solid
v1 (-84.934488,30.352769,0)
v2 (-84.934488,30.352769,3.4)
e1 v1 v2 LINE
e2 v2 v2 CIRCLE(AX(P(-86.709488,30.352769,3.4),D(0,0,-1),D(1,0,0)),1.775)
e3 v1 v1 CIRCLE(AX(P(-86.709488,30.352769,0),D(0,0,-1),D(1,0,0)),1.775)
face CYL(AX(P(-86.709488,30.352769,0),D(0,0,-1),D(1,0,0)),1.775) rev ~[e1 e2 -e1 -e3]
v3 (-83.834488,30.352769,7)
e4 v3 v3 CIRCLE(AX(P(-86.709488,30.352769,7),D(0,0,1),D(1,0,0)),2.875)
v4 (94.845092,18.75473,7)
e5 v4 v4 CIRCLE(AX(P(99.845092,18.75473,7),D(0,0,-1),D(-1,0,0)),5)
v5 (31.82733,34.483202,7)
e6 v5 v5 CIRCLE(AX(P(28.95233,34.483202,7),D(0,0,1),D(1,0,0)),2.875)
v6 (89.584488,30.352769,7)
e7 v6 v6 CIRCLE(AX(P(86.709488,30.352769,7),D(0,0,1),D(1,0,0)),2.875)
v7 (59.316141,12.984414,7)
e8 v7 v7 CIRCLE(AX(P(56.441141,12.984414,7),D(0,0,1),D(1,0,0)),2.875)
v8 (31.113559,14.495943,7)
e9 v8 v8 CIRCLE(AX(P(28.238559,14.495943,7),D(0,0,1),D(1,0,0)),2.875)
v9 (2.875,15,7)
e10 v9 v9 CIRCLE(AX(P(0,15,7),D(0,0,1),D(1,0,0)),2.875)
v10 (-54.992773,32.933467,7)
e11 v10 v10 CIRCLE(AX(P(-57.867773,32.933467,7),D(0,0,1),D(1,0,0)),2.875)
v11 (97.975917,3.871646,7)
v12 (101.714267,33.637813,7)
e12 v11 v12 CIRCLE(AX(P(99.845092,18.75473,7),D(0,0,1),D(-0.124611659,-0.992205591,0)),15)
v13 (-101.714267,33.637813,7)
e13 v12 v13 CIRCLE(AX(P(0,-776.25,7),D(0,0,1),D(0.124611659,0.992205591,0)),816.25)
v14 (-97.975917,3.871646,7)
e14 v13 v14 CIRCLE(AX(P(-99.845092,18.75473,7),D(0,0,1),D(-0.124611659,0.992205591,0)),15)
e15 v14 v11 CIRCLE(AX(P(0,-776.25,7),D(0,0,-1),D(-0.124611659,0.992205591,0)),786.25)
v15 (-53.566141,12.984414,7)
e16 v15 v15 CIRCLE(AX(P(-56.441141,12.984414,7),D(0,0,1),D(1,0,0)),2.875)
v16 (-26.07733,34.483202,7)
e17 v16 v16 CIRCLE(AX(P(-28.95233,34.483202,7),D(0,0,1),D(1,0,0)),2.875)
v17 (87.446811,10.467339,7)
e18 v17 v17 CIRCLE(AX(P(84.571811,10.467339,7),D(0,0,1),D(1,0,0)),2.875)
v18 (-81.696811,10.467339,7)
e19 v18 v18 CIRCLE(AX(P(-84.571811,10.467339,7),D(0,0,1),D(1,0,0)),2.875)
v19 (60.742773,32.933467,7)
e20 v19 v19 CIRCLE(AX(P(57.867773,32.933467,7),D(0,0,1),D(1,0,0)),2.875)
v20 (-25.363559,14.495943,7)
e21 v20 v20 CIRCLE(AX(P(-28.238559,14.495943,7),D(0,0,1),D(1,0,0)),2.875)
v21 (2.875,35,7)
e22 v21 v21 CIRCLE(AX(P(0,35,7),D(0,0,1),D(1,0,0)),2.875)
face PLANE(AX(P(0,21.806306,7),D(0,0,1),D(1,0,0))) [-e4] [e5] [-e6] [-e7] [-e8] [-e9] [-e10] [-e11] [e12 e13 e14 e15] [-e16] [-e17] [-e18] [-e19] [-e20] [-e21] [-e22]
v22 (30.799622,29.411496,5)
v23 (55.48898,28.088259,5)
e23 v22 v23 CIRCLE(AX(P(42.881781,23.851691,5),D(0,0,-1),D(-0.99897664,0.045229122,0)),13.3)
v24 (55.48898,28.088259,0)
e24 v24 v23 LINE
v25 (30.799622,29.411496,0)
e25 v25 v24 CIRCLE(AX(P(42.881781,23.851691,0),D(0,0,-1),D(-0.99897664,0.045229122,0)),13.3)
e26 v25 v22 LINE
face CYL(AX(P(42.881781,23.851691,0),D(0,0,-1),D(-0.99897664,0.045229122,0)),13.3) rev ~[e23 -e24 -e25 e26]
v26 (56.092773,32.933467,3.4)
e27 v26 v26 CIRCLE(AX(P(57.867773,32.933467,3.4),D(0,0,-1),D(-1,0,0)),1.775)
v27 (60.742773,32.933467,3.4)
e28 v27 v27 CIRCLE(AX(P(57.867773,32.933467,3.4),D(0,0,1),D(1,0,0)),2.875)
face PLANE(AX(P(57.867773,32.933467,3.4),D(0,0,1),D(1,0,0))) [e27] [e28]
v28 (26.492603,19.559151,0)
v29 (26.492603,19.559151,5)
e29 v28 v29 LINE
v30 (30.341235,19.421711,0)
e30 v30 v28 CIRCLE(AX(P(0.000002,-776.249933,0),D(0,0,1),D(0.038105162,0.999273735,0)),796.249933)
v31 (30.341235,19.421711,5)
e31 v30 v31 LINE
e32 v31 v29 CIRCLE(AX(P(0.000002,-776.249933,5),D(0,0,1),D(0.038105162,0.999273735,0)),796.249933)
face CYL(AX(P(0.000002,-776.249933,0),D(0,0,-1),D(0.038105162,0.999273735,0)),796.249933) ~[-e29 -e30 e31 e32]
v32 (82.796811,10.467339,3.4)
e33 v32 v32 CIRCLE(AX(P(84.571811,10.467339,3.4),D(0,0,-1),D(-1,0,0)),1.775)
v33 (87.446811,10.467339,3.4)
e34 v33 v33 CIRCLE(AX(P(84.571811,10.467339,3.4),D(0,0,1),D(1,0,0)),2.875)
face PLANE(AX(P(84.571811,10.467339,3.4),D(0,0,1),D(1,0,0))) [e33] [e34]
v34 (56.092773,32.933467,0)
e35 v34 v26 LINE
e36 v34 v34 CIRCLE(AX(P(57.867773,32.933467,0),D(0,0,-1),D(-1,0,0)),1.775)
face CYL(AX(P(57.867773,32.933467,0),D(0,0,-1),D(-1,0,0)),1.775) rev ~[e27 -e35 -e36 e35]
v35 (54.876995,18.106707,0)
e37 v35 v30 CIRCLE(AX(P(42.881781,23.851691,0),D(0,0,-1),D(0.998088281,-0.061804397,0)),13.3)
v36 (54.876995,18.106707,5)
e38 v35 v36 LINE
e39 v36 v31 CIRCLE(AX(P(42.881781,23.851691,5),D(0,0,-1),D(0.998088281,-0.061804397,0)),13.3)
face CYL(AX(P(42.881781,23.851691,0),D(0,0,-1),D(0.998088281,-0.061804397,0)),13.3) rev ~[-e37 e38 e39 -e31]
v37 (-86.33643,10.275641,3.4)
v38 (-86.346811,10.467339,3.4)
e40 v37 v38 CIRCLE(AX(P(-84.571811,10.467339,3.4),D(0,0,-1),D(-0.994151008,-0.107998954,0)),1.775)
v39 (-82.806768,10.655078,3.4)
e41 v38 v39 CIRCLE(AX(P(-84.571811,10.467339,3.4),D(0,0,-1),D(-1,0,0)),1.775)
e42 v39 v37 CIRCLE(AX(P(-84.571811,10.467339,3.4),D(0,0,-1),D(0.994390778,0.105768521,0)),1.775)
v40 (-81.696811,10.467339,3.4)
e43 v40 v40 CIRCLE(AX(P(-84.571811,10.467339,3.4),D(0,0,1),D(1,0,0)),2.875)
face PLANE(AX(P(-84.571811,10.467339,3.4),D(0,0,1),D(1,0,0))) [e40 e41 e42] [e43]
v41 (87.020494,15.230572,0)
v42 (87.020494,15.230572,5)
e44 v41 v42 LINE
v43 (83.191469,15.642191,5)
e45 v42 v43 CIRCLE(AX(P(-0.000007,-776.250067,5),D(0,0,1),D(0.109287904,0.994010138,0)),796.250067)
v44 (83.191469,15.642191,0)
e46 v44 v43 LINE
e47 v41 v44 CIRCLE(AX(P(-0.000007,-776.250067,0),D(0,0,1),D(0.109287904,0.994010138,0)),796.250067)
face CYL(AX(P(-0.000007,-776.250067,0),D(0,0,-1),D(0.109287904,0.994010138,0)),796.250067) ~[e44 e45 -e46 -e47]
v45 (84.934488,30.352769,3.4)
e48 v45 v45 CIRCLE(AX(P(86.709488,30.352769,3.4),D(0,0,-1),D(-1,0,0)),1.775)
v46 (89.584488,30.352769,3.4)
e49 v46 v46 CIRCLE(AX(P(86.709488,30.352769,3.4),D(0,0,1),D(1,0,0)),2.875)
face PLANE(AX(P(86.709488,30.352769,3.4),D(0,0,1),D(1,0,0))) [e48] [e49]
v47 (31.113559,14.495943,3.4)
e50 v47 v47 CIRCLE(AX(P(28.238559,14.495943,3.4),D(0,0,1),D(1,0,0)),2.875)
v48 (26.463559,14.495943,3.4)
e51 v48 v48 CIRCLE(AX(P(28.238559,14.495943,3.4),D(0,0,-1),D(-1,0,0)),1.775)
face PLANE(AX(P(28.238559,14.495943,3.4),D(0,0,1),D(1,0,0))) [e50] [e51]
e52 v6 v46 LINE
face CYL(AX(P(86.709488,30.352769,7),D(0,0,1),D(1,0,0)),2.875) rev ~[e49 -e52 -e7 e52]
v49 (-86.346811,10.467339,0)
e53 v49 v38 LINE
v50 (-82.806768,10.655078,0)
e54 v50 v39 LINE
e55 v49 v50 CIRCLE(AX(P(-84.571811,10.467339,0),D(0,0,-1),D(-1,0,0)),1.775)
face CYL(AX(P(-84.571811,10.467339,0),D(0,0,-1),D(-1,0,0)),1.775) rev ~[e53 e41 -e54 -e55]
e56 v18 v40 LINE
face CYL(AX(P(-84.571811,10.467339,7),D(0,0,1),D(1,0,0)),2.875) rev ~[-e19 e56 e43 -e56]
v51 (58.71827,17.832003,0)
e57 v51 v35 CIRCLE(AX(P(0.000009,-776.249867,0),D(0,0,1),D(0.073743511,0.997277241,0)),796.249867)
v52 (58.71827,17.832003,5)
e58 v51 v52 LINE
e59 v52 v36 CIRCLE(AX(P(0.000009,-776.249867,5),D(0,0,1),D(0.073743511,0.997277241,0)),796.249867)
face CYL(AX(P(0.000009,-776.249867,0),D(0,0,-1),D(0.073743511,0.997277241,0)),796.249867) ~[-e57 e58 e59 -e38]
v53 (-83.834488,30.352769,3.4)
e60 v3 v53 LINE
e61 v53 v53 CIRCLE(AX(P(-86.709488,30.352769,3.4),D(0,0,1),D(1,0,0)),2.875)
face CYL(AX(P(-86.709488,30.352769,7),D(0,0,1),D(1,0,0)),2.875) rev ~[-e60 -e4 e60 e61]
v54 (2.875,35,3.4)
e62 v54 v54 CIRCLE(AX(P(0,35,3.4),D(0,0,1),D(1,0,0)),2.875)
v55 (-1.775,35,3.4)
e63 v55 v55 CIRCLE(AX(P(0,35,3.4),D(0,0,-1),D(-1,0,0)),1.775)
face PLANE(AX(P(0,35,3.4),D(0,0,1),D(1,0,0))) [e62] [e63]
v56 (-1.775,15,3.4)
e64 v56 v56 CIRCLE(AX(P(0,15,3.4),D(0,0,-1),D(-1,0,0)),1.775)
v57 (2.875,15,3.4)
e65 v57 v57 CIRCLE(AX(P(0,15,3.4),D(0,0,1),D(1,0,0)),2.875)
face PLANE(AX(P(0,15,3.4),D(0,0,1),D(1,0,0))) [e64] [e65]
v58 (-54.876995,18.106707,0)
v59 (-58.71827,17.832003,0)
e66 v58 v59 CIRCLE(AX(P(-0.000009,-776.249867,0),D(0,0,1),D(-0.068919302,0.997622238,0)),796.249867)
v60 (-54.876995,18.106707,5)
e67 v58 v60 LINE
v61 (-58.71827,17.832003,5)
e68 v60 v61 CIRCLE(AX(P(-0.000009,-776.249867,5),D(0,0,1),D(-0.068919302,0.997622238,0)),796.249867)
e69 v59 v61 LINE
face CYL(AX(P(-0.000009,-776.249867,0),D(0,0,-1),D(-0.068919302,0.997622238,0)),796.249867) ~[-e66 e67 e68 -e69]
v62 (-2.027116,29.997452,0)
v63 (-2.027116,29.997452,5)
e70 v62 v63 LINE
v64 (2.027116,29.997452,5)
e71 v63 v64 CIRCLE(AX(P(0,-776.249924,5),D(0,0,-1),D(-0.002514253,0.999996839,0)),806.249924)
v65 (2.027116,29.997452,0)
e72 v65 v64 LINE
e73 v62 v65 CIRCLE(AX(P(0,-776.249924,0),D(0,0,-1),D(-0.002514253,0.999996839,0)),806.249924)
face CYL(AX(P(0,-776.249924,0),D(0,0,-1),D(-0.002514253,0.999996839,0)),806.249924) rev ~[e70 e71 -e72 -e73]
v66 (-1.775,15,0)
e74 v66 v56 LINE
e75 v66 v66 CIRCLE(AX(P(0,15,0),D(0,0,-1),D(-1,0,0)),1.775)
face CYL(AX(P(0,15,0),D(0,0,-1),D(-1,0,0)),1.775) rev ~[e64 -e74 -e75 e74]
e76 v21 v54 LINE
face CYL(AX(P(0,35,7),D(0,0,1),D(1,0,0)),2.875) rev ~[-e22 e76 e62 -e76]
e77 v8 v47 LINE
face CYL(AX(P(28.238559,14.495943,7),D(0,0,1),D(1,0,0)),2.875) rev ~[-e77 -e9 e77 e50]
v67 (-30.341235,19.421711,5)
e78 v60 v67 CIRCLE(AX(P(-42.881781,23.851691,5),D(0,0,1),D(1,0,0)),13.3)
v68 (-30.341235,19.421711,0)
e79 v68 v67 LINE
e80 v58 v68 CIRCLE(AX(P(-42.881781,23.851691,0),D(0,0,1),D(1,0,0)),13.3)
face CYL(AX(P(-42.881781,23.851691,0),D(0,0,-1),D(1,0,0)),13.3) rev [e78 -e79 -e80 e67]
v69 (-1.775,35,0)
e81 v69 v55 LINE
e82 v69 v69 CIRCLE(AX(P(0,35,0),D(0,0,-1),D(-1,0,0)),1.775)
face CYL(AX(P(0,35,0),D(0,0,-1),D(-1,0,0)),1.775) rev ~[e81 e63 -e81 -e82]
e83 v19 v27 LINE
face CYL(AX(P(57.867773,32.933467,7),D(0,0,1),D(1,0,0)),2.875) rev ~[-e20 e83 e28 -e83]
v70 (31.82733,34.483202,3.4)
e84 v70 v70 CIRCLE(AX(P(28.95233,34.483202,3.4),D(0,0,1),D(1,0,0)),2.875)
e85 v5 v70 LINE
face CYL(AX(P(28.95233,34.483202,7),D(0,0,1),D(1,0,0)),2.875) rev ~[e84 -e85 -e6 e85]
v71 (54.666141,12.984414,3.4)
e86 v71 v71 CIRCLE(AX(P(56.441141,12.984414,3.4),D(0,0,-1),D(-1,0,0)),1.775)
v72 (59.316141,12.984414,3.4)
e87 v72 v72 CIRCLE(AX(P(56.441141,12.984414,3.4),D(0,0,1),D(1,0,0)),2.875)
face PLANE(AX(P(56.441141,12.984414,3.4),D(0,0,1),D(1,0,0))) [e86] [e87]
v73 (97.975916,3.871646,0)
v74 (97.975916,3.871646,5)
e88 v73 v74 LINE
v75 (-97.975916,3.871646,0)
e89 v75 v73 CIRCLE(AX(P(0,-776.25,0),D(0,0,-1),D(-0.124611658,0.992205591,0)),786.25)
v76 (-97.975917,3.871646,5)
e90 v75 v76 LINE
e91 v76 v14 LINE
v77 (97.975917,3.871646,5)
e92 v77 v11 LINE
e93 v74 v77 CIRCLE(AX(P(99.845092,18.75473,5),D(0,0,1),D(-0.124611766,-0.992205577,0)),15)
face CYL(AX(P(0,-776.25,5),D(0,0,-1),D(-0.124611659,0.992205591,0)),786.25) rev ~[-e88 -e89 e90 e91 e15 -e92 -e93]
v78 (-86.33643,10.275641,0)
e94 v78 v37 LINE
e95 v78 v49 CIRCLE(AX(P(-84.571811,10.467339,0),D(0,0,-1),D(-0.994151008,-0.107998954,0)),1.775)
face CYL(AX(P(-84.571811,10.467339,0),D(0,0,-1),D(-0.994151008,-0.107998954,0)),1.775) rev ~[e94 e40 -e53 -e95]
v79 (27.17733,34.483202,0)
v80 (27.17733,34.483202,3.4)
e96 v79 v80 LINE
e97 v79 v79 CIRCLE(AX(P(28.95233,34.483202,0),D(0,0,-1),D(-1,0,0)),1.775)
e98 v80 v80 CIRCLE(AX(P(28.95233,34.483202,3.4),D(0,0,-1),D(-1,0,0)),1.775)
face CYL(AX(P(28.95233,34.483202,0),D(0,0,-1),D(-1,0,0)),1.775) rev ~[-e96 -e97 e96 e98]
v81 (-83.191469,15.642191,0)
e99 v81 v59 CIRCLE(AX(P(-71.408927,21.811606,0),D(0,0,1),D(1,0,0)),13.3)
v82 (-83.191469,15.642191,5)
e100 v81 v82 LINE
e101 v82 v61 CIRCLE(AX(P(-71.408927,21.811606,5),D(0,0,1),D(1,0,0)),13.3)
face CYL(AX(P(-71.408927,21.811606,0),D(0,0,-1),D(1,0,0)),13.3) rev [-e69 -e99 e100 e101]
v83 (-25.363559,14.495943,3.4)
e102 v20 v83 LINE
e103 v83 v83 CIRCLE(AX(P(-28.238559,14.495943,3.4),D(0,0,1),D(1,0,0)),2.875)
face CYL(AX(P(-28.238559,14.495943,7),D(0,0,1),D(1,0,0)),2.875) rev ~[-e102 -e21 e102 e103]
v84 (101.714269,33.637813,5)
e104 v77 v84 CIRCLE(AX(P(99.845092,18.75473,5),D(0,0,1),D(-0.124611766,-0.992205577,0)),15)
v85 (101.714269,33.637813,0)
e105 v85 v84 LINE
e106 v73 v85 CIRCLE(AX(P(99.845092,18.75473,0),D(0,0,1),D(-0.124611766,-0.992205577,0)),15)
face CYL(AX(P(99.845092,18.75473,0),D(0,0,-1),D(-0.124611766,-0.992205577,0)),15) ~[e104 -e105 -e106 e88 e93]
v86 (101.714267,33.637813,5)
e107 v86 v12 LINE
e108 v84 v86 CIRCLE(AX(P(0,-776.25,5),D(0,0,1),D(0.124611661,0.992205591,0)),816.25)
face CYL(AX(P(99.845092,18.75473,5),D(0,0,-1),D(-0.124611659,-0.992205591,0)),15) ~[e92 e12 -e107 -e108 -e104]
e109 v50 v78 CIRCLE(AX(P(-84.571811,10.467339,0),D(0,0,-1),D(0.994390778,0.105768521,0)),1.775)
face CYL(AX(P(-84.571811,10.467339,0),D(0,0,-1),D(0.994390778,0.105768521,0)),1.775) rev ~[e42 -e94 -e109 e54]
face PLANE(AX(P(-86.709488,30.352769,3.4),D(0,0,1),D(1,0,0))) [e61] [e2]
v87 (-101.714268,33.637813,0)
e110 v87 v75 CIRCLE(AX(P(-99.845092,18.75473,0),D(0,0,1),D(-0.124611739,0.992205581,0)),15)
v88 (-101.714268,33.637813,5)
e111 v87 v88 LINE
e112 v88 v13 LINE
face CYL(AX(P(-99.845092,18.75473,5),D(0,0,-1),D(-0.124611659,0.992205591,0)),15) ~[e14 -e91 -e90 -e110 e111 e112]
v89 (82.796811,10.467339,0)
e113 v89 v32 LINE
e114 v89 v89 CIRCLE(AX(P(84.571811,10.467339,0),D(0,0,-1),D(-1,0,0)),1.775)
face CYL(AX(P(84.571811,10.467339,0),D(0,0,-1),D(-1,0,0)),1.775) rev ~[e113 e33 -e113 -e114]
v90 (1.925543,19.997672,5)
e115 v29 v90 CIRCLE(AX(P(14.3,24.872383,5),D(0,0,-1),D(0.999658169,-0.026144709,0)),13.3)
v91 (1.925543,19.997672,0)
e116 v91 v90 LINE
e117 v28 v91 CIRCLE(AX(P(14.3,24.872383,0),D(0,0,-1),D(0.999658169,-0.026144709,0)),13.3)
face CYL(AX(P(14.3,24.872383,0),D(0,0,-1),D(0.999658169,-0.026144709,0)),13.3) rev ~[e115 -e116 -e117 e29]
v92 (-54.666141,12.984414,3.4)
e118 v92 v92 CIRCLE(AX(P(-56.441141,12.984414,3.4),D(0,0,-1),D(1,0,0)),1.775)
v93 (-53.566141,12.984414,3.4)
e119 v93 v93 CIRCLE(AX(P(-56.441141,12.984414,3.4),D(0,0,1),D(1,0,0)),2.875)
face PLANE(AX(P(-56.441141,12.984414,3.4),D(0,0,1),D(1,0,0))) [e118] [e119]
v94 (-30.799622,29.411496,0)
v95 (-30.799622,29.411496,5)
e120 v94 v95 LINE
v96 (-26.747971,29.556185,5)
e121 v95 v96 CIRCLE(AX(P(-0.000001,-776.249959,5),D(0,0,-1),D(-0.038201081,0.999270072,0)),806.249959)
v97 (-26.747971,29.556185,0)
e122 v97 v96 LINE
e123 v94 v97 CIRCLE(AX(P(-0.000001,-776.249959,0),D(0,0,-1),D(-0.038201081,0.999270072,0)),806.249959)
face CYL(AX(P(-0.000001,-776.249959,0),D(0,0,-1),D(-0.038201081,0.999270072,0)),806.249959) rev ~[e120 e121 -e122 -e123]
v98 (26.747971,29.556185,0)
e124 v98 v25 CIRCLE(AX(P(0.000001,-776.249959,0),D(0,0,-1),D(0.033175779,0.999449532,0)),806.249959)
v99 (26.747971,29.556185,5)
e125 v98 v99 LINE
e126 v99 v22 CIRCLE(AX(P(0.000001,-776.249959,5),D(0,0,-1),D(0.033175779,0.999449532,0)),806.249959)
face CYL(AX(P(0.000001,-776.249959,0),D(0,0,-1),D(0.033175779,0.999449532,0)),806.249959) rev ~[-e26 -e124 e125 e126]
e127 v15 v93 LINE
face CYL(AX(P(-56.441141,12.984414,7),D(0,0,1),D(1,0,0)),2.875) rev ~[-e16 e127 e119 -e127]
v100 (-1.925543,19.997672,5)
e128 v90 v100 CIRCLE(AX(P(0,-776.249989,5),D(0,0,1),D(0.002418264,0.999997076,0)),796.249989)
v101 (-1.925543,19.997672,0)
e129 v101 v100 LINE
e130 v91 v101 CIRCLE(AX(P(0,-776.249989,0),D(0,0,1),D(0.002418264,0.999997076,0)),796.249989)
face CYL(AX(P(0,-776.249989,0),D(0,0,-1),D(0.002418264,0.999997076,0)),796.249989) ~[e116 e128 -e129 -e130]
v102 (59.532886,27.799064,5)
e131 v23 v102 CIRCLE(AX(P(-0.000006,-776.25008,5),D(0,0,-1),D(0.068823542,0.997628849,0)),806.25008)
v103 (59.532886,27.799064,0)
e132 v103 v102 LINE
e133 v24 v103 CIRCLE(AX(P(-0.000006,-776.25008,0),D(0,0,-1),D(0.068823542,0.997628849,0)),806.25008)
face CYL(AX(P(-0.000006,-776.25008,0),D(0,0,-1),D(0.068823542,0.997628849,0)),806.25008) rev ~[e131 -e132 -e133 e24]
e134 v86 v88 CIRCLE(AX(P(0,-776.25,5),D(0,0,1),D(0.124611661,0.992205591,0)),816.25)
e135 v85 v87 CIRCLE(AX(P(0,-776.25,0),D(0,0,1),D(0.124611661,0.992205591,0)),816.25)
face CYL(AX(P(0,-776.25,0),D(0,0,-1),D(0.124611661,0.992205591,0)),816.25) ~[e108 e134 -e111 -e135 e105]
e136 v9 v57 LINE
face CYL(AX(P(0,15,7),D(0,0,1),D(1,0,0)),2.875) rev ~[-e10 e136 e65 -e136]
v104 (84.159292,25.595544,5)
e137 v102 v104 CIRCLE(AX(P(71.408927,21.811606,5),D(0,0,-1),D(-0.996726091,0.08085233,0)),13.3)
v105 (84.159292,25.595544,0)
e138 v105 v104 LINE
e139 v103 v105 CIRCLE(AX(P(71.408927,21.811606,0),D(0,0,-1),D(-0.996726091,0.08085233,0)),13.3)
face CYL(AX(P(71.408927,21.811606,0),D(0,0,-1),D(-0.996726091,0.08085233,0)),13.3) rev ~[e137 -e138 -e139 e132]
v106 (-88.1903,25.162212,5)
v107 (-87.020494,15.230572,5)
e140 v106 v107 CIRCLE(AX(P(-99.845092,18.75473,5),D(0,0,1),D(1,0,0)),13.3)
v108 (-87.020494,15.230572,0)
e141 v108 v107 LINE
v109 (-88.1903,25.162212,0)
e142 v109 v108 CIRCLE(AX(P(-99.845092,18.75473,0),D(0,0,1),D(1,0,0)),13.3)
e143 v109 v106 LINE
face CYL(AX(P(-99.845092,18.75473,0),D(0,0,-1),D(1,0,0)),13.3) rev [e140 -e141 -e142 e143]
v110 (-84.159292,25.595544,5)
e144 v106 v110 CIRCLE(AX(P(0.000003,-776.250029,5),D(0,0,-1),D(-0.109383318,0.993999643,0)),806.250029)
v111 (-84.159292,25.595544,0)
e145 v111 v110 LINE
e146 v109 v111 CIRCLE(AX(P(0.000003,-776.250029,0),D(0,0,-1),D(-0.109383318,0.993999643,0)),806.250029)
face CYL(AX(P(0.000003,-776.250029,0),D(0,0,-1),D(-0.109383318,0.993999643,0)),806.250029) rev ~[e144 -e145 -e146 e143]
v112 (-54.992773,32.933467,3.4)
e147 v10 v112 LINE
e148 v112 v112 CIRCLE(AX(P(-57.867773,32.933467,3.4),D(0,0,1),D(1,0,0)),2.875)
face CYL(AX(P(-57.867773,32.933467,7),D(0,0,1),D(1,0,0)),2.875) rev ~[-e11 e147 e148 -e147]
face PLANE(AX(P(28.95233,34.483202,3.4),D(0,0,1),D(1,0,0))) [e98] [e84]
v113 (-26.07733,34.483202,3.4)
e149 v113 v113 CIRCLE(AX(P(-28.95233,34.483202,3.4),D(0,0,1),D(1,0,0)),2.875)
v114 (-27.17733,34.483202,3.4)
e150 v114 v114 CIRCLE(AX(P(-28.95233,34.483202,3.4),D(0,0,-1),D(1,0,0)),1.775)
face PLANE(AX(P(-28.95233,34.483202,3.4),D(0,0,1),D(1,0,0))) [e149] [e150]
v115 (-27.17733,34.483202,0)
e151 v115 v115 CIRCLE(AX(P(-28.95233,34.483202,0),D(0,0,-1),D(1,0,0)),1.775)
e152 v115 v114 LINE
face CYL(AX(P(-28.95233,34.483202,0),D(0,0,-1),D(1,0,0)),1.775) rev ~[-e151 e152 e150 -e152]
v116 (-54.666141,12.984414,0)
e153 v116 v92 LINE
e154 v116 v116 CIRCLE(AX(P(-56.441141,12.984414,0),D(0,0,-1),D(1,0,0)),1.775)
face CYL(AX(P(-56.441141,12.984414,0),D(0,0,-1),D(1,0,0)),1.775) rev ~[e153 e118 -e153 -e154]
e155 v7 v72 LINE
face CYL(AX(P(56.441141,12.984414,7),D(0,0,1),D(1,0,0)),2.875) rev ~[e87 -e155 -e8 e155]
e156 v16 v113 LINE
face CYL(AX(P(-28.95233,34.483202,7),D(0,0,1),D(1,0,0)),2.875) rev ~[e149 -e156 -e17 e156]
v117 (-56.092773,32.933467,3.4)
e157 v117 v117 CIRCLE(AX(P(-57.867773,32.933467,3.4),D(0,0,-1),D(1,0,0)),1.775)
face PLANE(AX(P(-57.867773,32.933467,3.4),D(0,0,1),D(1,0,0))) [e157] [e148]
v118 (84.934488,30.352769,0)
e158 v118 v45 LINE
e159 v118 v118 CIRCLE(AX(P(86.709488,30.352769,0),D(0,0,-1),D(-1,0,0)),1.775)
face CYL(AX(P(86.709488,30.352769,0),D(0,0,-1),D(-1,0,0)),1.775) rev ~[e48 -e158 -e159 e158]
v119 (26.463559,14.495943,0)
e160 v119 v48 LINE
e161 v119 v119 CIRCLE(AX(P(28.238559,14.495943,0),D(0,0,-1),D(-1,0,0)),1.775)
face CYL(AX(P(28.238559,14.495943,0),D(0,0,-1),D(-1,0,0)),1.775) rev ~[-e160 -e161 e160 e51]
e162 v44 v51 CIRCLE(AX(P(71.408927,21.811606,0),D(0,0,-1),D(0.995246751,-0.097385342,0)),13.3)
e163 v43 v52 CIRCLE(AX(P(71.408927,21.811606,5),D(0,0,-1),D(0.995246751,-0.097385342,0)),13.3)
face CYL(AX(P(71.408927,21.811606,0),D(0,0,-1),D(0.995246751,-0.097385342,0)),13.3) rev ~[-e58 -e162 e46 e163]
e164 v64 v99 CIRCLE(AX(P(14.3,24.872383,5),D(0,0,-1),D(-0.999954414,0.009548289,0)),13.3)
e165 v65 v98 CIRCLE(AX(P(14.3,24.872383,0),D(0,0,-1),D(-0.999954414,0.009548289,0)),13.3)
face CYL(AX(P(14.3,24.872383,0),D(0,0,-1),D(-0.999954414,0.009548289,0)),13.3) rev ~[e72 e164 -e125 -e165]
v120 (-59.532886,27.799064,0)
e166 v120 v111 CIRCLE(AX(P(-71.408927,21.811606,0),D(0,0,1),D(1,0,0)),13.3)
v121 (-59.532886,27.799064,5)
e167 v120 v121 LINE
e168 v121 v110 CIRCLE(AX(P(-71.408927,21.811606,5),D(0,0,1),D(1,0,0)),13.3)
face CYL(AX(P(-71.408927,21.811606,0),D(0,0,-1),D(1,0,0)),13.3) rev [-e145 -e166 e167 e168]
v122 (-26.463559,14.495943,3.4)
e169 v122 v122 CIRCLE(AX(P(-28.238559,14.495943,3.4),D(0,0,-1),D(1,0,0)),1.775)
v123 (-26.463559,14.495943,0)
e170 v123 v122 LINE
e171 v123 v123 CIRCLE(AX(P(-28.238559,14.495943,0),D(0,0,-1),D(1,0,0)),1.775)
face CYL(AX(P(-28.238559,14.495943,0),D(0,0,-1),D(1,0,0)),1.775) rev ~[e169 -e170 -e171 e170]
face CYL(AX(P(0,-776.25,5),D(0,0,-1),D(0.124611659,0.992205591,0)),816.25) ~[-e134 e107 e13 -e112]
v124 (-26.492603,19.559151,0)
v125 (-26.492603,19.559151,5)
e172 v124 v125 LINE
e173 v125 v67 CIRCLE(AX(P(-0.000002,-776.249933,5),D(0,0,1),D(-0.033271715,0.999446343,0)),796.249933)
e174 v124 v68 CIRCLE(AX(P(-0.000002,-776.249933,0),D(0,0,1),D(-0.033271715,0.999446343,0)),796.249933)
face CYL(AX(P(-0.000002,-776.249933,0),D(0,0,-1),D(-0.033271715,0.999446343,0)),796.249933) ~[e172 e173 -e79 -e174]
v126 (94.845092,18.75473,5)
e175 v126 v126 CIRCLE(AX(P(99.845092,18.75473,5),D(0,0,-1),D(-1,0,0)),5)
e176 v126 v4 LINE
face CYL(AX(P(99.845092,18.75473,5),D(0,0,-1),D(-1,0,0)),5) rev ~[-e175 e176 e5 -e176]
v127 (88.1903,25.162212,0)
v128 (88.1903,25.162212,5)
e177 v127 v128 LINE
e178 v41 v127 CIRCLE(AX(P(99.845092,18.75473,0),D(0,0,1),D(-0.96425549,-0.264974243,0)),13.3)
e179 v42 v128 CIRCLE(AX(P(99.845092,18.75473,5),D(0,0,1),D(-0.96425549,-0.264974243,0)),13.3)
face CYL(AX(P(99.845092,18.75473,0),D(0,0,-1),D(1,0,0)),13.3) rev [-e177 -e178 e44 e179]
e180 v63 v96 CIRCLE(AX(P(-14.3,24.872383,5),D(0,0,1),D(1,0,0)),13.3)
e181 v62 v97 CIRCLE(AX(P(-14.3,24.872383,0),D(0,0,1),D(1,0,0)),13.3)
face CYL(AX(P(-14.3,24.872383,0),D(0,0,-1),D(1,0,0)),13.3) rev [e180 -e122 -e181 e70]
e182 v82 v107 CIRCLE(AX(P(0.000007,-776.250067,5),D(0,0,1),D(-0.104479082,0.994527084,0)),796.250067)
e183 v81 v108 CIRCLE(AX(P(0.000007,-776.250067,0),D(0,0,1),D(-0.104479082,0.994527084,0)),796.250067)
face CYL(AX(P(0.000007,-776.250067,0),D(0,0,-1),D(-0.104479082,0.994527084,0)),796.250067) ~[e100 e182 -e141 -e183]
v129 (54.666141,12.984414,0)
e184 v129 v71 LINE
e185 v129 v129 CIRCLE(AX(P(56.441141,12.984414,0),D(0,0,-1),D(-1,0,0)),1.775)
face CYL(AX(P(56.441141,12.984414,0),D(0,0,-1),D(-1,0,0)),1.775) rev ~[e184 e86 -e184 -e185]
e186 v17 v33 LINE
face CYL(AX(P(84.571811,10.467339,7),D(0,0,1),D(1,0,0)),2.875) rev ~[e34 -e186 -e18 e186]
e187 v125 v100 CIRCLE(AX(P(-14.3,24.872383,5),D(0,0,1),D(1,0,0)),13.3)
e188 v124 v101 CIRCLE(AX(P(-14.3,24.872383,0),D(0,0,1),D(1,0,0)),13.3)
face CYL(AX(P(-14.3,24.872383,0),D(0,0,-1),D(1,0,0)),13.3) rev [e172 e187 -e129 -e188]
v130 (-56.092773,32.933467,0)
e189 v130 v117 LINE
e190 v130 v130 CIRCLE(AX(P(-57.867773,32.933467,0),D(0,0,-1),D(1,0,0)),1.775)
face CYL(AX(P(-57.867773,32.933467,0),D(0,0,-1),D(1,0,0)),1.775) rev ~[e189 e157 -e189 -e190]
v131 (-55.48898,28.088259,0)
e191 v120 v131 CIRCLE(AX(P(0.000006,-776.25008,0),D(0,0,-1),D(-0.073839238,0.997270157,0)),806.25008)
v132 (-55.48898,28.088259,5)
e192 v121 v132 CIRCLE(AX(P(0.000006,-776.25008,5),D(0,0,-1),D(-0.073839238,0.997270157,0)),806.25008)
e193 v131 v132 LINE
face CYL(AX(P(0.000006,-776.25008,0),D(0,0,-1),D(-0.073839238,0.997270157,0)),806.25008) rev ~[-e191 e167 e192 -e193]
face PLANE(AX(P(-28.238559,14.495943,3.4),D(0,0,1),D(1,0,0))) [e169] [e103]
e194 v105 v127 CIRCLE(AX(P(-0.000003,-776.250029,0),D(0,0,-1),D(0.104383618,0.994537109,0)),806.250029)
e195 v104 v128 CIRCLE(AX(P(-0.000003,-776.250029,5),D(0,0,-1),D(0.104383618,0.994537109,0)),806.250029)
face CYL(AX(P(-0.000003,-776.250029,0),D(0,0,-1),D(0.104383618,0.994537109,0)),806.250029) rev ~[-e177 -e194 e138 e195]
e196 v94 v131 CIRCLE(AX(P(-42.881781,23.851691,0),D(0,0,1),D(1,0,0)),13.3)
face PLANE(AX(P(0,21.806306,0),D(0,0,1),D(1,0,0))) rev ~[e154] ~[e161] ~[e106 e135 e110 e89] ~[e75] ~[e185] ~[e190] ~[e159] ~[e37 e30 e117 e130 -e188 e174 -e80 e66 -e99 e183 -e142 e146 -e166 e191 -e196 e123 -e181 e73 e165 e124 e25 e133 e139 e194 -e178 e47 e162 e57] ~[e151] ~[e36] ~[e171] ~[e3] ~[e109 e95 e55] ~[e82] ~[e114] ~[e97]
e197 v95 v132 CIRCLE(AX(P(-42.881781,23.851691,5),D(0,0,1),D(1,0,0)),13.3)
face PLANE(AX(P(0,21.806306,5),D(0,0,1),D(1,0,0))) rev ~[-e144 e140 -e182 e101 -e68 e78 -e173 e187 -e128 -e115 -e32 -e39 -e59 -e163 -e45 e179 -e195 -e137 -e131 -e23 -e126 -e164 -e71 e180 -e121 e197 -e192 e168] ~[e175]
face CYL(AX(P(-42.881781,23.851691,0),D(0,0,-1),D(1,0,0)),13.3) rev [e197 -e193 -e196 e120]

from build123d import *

# Parameters (mm, degrees)
SKETCH1_R           = 13.3
BOSS_EXTRUDE1_DEPTH = 5
BOSS_EXTRUDE2_DEPTH = 2
CUT_EXTRUDE1_DEPTH  = 5
SKETCH4_R           = 5
CUT_EXTRUDE2_DEPTH  = 5
SKETCH5_R           = 1.775
CUT_EXTRUDE3_DEPTH  = 7
SKETCH6_R           = 2.875
CUT_EXTRUDE4_DEPTH  = 3.6


with BuildPart() as part:
    # Sketch1 → Boss-Extrude1 (new body)
    with BuildSketch(Plane.XY):
        with BuildLine():
            ThreePointArc((-97.97591629, 3.871645852), (-3.59e-07, 10), (97.975915577, 3.871645942))
            ThreePointArc((97.975915577, 3.871645942), (114.728175723, 16.885553085), (101.714268612, 33.637813256))
            ThreePointArc((101.714268612, 33.637813256), (2.3e-07, 40), (-101.714268155, 33.637813313))
            ThreePointArc((-101.714268155, 33.637813313), (-114.728175796, 16.88555367), (-97.97591629, 3.871645852))
        make_face()
        with Locations((-71.408926643, 21.811606454)):
            Circle(SKETCH1_R, mode=Mode.SUBTRACT)
        with BuildLine():
            ThreePointArc((84.645708431, 20.516381409), (70.223605302, 8.564530802), (58.152469631, 22.886942442))
            ThreePointArc((58.152469631, 22.886942442), (72.594247984, 35.058682105), (84.645708431, 20.516381409))
        make_face(mode=Mode.SUBTRACT)
        with Locations((99.845092065, 18.754729603)):
            Circle(SKETCH1_R, mode=Mode.SUBTRACT)
        with Locations((-42.881780686, 23.851690653)):
            Circle(SKETCH1_R, mode=Mode.SUBTRACT)
        with Locations((-14.3, 24.872382973)):
            Circle(SKETCH1_R, mode=Mode.SUBTRACT)
        with BuildLine():
            ThreePointArc((1.000606293, 24.999375218), (14.537366615, 38.17026465), (27.595453643, 24.524658339))
            ThreePointArc((27.595453643, 24.524658339), (14.062633385, 11.574501296), (1.000606293, 24.999375218))
        make_face(mode=Mode.SUBTRACT)
        with BuildLine():
            ThreePointArc((29.595391379, 24.453237978), (43.593578107, 37.132629792), (56.156354822, 23.029692169))
            ThreePointArc((56.156354822, 23.029692169), (42.169983266, 10.570751513), (29.595391379, 24.453237978))
        make_face(mode=Mode.SUBTRACT)
        with Locations((-99.845092065, 18.754729603)):
            Circle(SKETCH1_R, mode=Mode.SUBTRACT)
    extrude(amount=BOSS_EXTRUDE1_DEPTH)

    # Sketch2 → Boss-Extrude2 (add)
    with BuildSketch(Plane.XY.offset(5)):
        with BuildLine():
            ThreePointArc((101.714266956, 33.637813464), (0, 40), (-101.714266956, 33.637813464))
            ThreePointArc((-101.714266956, 33.637813464), (-114.728175927, 16.885554712), (-97.975917175, 3.871645741))
            ThreePointArc((-97.975917175, 3.871645741), (0, 10), (97.975917175, 3.871645741))
            ThreePointArc((97.975917175, 3.871645741), (114.728175927, 16.885554712), (101.714266956, 33.637813464))
        make_face()
    extrude(amount=BOSS_EXTRUDE2_DEPTH)

    # Sketch3 → Cut-Extrude1 (cut)
    with BuildSketch(Plane(origin=(0, 0, 0), x_dir=(-1, 0, 0), z_dir=(0, 0, -1))):
        with BuildLine():
            ThreePointArc((-87.020494046, 15.230572166), (-85.106230518, 15.438696412), (-83.191469288, 15.642190855))
            ThreePointArc((-83.191469288, 15.642190855), (-84.646494513, 20.524440227), (-84.159292066, 25.595543767))
            ThreePointArc((-84.159292066, 25.595543767), (-86.175068578, 25.381411595), (-88.190300336, 25.162211928))
            ThreePointArc((-88.190300336, 25.162211928), (-86.962958508, 22.062392675), (-86.545092065, 18.754729603))
            ThreePointArc((-86.545092065, 18.754729603), (-86.664478391, 16.976690466), (-87.020494046, 15.230572166))
        make_face()
        with BuildLine():
            ThreePointArc((-58.718270435, 17.832002829), (-56.797798717, 17.971677217), (-54.876994844, 18.106706988))
            ThreePointArc((-54.876994844, 18.106706988), (-56.156852796, 23.037773907), (-55.488980421, 28.088259411))
            ThreePointArc((-55.488980421, 28.088259411), (-57.51111487, 27.946203775), (-59.532885764, 27.799064431))
            ThreePointArc((-59.532885764, 27.799064431), (-58.469812615, 24.888833802), (-58.108926643, 21.811606454))
            ThreePointArc((-58.108926643, 21.811606454), (-58.262145144, 19.798614597), (-58.718270435, 17.832002829))
        make_face()
        with BuildLine():
            ThreePointArc((-30.341235174, 19.421711165), (-28.417002095, 19.492757738), (-26.492602834, 19.559150799))
            ThreePointArc((-26.492602834, 19.559150799), (-27.595662875, 24.532752701), (-26.747971493, 29.556185457))
            ThreePointArc((-26.747971493, 29.556185457), (-28.773887522, 29.486387348), (-30.799621658, 29.411495794))
            ThreePointArc((-30.799621658, 29.411495794), (-29.889807874, 26.697502042), (-29.581780686, 23.851690653))
            ThreePointArc((-29.581780686, 23.851690653), (-29.773019202, 21.604387303), (-30.341235174, 19.421711165))
        make_face()
        with BuildLine():
            ThreePointArc((-1.925542816, 19.997671761), (0, 20), (1.925542816, 19.997671761))
            ThreePointArc((1.925542816, 19.997671761), (1.000686071, 25.00747189), (2.027116435, 29.997451654))
            ThreePointArc((2.027116435, 29.997451654), (0, 30), (-2.027116435, 29.997451654))
            ThreePointArc((-2.027116435, 29.997451654), (-1.259306931, 27.485871884), (-1, 24.872382973))
            ThreePointArc((-1, 24.872382973), (-1.233434259, 22.391483998), (-1.925542816, 19.997671761))
        make_face()
        with BuildLine():
            ThreePointArc((26.492602834, 19.559150799), (28.417002095, 19.492757738), (30.341235174, 19.421711165))
            ThreePointArc((30.341235174, 19.421711165), (29.595760065, 24.461326646), (30.799621658, 29.411495794))
            ThreePointArc((30.799621658, 29.411495794), (28.773887522, 29.486387348), (26.747971493, 29.556185457))
            ThreePointArc((26.747971493, 29.556185457), (27.38525928, 27.252716893), (27.6, 24.872382973))
            ThreePointArc((27.6, 24.872382973), (27.320207711, 22.158678649), (26.492602834, 19.559150799))
        make_face()
        with BuildLine():
            ThreePointArc((54.876994844, 18.106706988), (56.797798717, 17.971677217), (58.718270435, 17.832002829))
            ThreePointArc((58.718270435, 17.832002829), (58.153126754, 22.895012799), (59.532885764, 27.799064431))
            ThreePointArc((59.532885764, 27.799064431), (57.51111487, 27.946203775), (55.488980421, 28.088259411))
            ThreePointArc((55.488980421, 28.088259411), (56.007437936, 25.998111339), (56.181780686, 23.851690653))
            ThreePointArc((56.181780686, 23.851690653), (55.851482847, 20.906045418), (54.876994844, 18.106706988))
        make_face()
        with BuildLine():
            ThreePointArc((83.191469288, 15.642190855), (85.106230518, 15.438696412), (87.020494046, 15.230572166))
            ThreePointArc((87.020494046, 15.230572166), (86.636401831, 20.310525956), (88.190300336, 25.162211928))
            ThreePointArc((88.190300336, 25.162211928), (86.175068578, 25.381411595), (84.159292066, 25.595543767))
            ThreePointArc((84.159292066, 25.595543767), (84.570800752, 23.723430175), (84.708926643, 21.811606454))
            ThreePointArc((84.708926643, 21.811606454), (84.323991823, 18.634958627), (83.191469288, 15.642190855))
        make_face()
    extrude(amount=-CUT_EXTRUDE1_DEPTH, mode=Mode.SUBTRACT)

    # Sketch4 → Cut-Extrude2 (cut)
    with BuildSketch(Plane(origin=(0, 0, 5), x_dir=(-1, 0, 0), z_dir=(0, 0, -1))):
        with Locations((-99.845092065, 18.754729603)):
            Circle(SKETCH4_R)
    extrude(amount=-CUT_EXTRUDE2_DEPTH, mode=Mode.SUBTRACT)

    # Sketch5 → Cut-Extrude3 (cut)
    with BuildSketch(Plane(origin=(0, 0, 0), x_dir=(-1, 0, 0), z_dir=(0, 0, -1))):
        with BuildLine():
            ThreePointArc((86.346811488, 10.467338821), (84.665812962, 12.239847981), (82.806767857, 10.655077946))
            ThreePointArc((82.806767857, 10.655077946), (84.571811488, 10.467338821), (86.336429526, 10.275640673))
            ThreePointArc((86.336429526, 10.275640673), (86.344214097, 10.371349284), (86.346811488, 10.467338821))
        make_face()
        with BuildLine():
            ThreePointArc((86.336429526, 10.275640673), (84.571811488, 10.467338821), (82.806767857, 10.655077946))
            ThreePointArc((82.806767857, 10.655077946), (84.382092732, 8.702506876), (86.336429526, 10.275640673))
        make_face()
        with Locations(Location((86.709487608, 30.352769186, 0), (0, 0, 180))):
            Circle(SKETCH5_R)
        with Locations(Location((57.867772947, 32.933467054, 0), (0, 0, 180))):
            Circle(SKETCH5_R)
        with Locations(Location((56.44114064, 12.984413937, 0), (0, 0, 180))):
            Circle(SKETCH5_R)
        with Locations(Location((28.238559382, 14.495942932, 0), (0, 0, 180))):
            Circle(SKETCH5_R)
        with Locations(Location((28.952330235, 34.483202153, 0), (0, 0, 180))):
            Circle(SKETCH5_R)
        with Locations((0, 35)):
            Circle(SKETCH5_R)
        with Locations((0, 15)):
            Circle(SKETCH5_R)
        with Locations((-28.238559382, 14.495942932)):
            Circle(SKETCH5_R)
        with Locations((-28.952330235, 34.483202153)):
            Circle(SKETCH5_R)
        with Locations((-56.44114064, 12.984413937)):
            Circle(SKETCH5_R)
        with Locations((-57.867772947, 32.933467054)):
            Circle(SKETCH5_R)
        with Locations((-86.709487608, 30.352769186)):
            Circle(SKETCH5_R)
        with Locations((-84.571811488, 10.467338821)):
            Circle(SKETCH5_R)
    extrude(amount=-CUT_EXTRUDE3_DEPTH, mode=Mode.SUBTRACT)

    # Sketch6 → Cut-Extrude4 (cut)
    with BuildSketch(Plane.XY.offset(7)):
        with Locations((-86.709487608, 30.352769186)):
            Circle(SKETCH6_R)
        with Locations((-84.571811488, 10.467338821)):
            Circle(SKETCH6_R)
        with Locations((-57.867772947, 32.933467054)):
            Circle(SKETCH6_R)
        with Locations((-56.44114064, 12.984413937)):
            Circle(SKETCH6_R)
        with Locations((-28.952330235, 34.483202153)):
            Circle(SKETCH6_R)
        with Locations((-28.238559382, 14.495942932)):
            Circle(SKETCH6_R)
        with Locations((0, 35)):
            Circle(SKETCH6_R)
        with Locations((0, 15)):
            Circle(SKETCH6_R)
        with Locations((28.952330235, 34.483202153)):
            Circle(SKETCH6_R)
        with Locations((28.238559382, 14.495942932)):
            Circle(SKETCH6_R)
        with Locations((57.867772947, 32.933467054)):
            Circle(SKETCH6_R)
        with Locations((56.44114064, 12.984413937)):
            Circle(SKETCH6_R)
        with Locations((86.709487608, 30.352769186)):
            Circle(SKETCH6_R)
        with Locations((84.571811488, 10.467338821)):
            Circle(SKETCH6_R)
    extrude(amount=-CUT_EXTRUDE4_DEPTH, mode=Mode.SUBTRACT)


solid = part.part
